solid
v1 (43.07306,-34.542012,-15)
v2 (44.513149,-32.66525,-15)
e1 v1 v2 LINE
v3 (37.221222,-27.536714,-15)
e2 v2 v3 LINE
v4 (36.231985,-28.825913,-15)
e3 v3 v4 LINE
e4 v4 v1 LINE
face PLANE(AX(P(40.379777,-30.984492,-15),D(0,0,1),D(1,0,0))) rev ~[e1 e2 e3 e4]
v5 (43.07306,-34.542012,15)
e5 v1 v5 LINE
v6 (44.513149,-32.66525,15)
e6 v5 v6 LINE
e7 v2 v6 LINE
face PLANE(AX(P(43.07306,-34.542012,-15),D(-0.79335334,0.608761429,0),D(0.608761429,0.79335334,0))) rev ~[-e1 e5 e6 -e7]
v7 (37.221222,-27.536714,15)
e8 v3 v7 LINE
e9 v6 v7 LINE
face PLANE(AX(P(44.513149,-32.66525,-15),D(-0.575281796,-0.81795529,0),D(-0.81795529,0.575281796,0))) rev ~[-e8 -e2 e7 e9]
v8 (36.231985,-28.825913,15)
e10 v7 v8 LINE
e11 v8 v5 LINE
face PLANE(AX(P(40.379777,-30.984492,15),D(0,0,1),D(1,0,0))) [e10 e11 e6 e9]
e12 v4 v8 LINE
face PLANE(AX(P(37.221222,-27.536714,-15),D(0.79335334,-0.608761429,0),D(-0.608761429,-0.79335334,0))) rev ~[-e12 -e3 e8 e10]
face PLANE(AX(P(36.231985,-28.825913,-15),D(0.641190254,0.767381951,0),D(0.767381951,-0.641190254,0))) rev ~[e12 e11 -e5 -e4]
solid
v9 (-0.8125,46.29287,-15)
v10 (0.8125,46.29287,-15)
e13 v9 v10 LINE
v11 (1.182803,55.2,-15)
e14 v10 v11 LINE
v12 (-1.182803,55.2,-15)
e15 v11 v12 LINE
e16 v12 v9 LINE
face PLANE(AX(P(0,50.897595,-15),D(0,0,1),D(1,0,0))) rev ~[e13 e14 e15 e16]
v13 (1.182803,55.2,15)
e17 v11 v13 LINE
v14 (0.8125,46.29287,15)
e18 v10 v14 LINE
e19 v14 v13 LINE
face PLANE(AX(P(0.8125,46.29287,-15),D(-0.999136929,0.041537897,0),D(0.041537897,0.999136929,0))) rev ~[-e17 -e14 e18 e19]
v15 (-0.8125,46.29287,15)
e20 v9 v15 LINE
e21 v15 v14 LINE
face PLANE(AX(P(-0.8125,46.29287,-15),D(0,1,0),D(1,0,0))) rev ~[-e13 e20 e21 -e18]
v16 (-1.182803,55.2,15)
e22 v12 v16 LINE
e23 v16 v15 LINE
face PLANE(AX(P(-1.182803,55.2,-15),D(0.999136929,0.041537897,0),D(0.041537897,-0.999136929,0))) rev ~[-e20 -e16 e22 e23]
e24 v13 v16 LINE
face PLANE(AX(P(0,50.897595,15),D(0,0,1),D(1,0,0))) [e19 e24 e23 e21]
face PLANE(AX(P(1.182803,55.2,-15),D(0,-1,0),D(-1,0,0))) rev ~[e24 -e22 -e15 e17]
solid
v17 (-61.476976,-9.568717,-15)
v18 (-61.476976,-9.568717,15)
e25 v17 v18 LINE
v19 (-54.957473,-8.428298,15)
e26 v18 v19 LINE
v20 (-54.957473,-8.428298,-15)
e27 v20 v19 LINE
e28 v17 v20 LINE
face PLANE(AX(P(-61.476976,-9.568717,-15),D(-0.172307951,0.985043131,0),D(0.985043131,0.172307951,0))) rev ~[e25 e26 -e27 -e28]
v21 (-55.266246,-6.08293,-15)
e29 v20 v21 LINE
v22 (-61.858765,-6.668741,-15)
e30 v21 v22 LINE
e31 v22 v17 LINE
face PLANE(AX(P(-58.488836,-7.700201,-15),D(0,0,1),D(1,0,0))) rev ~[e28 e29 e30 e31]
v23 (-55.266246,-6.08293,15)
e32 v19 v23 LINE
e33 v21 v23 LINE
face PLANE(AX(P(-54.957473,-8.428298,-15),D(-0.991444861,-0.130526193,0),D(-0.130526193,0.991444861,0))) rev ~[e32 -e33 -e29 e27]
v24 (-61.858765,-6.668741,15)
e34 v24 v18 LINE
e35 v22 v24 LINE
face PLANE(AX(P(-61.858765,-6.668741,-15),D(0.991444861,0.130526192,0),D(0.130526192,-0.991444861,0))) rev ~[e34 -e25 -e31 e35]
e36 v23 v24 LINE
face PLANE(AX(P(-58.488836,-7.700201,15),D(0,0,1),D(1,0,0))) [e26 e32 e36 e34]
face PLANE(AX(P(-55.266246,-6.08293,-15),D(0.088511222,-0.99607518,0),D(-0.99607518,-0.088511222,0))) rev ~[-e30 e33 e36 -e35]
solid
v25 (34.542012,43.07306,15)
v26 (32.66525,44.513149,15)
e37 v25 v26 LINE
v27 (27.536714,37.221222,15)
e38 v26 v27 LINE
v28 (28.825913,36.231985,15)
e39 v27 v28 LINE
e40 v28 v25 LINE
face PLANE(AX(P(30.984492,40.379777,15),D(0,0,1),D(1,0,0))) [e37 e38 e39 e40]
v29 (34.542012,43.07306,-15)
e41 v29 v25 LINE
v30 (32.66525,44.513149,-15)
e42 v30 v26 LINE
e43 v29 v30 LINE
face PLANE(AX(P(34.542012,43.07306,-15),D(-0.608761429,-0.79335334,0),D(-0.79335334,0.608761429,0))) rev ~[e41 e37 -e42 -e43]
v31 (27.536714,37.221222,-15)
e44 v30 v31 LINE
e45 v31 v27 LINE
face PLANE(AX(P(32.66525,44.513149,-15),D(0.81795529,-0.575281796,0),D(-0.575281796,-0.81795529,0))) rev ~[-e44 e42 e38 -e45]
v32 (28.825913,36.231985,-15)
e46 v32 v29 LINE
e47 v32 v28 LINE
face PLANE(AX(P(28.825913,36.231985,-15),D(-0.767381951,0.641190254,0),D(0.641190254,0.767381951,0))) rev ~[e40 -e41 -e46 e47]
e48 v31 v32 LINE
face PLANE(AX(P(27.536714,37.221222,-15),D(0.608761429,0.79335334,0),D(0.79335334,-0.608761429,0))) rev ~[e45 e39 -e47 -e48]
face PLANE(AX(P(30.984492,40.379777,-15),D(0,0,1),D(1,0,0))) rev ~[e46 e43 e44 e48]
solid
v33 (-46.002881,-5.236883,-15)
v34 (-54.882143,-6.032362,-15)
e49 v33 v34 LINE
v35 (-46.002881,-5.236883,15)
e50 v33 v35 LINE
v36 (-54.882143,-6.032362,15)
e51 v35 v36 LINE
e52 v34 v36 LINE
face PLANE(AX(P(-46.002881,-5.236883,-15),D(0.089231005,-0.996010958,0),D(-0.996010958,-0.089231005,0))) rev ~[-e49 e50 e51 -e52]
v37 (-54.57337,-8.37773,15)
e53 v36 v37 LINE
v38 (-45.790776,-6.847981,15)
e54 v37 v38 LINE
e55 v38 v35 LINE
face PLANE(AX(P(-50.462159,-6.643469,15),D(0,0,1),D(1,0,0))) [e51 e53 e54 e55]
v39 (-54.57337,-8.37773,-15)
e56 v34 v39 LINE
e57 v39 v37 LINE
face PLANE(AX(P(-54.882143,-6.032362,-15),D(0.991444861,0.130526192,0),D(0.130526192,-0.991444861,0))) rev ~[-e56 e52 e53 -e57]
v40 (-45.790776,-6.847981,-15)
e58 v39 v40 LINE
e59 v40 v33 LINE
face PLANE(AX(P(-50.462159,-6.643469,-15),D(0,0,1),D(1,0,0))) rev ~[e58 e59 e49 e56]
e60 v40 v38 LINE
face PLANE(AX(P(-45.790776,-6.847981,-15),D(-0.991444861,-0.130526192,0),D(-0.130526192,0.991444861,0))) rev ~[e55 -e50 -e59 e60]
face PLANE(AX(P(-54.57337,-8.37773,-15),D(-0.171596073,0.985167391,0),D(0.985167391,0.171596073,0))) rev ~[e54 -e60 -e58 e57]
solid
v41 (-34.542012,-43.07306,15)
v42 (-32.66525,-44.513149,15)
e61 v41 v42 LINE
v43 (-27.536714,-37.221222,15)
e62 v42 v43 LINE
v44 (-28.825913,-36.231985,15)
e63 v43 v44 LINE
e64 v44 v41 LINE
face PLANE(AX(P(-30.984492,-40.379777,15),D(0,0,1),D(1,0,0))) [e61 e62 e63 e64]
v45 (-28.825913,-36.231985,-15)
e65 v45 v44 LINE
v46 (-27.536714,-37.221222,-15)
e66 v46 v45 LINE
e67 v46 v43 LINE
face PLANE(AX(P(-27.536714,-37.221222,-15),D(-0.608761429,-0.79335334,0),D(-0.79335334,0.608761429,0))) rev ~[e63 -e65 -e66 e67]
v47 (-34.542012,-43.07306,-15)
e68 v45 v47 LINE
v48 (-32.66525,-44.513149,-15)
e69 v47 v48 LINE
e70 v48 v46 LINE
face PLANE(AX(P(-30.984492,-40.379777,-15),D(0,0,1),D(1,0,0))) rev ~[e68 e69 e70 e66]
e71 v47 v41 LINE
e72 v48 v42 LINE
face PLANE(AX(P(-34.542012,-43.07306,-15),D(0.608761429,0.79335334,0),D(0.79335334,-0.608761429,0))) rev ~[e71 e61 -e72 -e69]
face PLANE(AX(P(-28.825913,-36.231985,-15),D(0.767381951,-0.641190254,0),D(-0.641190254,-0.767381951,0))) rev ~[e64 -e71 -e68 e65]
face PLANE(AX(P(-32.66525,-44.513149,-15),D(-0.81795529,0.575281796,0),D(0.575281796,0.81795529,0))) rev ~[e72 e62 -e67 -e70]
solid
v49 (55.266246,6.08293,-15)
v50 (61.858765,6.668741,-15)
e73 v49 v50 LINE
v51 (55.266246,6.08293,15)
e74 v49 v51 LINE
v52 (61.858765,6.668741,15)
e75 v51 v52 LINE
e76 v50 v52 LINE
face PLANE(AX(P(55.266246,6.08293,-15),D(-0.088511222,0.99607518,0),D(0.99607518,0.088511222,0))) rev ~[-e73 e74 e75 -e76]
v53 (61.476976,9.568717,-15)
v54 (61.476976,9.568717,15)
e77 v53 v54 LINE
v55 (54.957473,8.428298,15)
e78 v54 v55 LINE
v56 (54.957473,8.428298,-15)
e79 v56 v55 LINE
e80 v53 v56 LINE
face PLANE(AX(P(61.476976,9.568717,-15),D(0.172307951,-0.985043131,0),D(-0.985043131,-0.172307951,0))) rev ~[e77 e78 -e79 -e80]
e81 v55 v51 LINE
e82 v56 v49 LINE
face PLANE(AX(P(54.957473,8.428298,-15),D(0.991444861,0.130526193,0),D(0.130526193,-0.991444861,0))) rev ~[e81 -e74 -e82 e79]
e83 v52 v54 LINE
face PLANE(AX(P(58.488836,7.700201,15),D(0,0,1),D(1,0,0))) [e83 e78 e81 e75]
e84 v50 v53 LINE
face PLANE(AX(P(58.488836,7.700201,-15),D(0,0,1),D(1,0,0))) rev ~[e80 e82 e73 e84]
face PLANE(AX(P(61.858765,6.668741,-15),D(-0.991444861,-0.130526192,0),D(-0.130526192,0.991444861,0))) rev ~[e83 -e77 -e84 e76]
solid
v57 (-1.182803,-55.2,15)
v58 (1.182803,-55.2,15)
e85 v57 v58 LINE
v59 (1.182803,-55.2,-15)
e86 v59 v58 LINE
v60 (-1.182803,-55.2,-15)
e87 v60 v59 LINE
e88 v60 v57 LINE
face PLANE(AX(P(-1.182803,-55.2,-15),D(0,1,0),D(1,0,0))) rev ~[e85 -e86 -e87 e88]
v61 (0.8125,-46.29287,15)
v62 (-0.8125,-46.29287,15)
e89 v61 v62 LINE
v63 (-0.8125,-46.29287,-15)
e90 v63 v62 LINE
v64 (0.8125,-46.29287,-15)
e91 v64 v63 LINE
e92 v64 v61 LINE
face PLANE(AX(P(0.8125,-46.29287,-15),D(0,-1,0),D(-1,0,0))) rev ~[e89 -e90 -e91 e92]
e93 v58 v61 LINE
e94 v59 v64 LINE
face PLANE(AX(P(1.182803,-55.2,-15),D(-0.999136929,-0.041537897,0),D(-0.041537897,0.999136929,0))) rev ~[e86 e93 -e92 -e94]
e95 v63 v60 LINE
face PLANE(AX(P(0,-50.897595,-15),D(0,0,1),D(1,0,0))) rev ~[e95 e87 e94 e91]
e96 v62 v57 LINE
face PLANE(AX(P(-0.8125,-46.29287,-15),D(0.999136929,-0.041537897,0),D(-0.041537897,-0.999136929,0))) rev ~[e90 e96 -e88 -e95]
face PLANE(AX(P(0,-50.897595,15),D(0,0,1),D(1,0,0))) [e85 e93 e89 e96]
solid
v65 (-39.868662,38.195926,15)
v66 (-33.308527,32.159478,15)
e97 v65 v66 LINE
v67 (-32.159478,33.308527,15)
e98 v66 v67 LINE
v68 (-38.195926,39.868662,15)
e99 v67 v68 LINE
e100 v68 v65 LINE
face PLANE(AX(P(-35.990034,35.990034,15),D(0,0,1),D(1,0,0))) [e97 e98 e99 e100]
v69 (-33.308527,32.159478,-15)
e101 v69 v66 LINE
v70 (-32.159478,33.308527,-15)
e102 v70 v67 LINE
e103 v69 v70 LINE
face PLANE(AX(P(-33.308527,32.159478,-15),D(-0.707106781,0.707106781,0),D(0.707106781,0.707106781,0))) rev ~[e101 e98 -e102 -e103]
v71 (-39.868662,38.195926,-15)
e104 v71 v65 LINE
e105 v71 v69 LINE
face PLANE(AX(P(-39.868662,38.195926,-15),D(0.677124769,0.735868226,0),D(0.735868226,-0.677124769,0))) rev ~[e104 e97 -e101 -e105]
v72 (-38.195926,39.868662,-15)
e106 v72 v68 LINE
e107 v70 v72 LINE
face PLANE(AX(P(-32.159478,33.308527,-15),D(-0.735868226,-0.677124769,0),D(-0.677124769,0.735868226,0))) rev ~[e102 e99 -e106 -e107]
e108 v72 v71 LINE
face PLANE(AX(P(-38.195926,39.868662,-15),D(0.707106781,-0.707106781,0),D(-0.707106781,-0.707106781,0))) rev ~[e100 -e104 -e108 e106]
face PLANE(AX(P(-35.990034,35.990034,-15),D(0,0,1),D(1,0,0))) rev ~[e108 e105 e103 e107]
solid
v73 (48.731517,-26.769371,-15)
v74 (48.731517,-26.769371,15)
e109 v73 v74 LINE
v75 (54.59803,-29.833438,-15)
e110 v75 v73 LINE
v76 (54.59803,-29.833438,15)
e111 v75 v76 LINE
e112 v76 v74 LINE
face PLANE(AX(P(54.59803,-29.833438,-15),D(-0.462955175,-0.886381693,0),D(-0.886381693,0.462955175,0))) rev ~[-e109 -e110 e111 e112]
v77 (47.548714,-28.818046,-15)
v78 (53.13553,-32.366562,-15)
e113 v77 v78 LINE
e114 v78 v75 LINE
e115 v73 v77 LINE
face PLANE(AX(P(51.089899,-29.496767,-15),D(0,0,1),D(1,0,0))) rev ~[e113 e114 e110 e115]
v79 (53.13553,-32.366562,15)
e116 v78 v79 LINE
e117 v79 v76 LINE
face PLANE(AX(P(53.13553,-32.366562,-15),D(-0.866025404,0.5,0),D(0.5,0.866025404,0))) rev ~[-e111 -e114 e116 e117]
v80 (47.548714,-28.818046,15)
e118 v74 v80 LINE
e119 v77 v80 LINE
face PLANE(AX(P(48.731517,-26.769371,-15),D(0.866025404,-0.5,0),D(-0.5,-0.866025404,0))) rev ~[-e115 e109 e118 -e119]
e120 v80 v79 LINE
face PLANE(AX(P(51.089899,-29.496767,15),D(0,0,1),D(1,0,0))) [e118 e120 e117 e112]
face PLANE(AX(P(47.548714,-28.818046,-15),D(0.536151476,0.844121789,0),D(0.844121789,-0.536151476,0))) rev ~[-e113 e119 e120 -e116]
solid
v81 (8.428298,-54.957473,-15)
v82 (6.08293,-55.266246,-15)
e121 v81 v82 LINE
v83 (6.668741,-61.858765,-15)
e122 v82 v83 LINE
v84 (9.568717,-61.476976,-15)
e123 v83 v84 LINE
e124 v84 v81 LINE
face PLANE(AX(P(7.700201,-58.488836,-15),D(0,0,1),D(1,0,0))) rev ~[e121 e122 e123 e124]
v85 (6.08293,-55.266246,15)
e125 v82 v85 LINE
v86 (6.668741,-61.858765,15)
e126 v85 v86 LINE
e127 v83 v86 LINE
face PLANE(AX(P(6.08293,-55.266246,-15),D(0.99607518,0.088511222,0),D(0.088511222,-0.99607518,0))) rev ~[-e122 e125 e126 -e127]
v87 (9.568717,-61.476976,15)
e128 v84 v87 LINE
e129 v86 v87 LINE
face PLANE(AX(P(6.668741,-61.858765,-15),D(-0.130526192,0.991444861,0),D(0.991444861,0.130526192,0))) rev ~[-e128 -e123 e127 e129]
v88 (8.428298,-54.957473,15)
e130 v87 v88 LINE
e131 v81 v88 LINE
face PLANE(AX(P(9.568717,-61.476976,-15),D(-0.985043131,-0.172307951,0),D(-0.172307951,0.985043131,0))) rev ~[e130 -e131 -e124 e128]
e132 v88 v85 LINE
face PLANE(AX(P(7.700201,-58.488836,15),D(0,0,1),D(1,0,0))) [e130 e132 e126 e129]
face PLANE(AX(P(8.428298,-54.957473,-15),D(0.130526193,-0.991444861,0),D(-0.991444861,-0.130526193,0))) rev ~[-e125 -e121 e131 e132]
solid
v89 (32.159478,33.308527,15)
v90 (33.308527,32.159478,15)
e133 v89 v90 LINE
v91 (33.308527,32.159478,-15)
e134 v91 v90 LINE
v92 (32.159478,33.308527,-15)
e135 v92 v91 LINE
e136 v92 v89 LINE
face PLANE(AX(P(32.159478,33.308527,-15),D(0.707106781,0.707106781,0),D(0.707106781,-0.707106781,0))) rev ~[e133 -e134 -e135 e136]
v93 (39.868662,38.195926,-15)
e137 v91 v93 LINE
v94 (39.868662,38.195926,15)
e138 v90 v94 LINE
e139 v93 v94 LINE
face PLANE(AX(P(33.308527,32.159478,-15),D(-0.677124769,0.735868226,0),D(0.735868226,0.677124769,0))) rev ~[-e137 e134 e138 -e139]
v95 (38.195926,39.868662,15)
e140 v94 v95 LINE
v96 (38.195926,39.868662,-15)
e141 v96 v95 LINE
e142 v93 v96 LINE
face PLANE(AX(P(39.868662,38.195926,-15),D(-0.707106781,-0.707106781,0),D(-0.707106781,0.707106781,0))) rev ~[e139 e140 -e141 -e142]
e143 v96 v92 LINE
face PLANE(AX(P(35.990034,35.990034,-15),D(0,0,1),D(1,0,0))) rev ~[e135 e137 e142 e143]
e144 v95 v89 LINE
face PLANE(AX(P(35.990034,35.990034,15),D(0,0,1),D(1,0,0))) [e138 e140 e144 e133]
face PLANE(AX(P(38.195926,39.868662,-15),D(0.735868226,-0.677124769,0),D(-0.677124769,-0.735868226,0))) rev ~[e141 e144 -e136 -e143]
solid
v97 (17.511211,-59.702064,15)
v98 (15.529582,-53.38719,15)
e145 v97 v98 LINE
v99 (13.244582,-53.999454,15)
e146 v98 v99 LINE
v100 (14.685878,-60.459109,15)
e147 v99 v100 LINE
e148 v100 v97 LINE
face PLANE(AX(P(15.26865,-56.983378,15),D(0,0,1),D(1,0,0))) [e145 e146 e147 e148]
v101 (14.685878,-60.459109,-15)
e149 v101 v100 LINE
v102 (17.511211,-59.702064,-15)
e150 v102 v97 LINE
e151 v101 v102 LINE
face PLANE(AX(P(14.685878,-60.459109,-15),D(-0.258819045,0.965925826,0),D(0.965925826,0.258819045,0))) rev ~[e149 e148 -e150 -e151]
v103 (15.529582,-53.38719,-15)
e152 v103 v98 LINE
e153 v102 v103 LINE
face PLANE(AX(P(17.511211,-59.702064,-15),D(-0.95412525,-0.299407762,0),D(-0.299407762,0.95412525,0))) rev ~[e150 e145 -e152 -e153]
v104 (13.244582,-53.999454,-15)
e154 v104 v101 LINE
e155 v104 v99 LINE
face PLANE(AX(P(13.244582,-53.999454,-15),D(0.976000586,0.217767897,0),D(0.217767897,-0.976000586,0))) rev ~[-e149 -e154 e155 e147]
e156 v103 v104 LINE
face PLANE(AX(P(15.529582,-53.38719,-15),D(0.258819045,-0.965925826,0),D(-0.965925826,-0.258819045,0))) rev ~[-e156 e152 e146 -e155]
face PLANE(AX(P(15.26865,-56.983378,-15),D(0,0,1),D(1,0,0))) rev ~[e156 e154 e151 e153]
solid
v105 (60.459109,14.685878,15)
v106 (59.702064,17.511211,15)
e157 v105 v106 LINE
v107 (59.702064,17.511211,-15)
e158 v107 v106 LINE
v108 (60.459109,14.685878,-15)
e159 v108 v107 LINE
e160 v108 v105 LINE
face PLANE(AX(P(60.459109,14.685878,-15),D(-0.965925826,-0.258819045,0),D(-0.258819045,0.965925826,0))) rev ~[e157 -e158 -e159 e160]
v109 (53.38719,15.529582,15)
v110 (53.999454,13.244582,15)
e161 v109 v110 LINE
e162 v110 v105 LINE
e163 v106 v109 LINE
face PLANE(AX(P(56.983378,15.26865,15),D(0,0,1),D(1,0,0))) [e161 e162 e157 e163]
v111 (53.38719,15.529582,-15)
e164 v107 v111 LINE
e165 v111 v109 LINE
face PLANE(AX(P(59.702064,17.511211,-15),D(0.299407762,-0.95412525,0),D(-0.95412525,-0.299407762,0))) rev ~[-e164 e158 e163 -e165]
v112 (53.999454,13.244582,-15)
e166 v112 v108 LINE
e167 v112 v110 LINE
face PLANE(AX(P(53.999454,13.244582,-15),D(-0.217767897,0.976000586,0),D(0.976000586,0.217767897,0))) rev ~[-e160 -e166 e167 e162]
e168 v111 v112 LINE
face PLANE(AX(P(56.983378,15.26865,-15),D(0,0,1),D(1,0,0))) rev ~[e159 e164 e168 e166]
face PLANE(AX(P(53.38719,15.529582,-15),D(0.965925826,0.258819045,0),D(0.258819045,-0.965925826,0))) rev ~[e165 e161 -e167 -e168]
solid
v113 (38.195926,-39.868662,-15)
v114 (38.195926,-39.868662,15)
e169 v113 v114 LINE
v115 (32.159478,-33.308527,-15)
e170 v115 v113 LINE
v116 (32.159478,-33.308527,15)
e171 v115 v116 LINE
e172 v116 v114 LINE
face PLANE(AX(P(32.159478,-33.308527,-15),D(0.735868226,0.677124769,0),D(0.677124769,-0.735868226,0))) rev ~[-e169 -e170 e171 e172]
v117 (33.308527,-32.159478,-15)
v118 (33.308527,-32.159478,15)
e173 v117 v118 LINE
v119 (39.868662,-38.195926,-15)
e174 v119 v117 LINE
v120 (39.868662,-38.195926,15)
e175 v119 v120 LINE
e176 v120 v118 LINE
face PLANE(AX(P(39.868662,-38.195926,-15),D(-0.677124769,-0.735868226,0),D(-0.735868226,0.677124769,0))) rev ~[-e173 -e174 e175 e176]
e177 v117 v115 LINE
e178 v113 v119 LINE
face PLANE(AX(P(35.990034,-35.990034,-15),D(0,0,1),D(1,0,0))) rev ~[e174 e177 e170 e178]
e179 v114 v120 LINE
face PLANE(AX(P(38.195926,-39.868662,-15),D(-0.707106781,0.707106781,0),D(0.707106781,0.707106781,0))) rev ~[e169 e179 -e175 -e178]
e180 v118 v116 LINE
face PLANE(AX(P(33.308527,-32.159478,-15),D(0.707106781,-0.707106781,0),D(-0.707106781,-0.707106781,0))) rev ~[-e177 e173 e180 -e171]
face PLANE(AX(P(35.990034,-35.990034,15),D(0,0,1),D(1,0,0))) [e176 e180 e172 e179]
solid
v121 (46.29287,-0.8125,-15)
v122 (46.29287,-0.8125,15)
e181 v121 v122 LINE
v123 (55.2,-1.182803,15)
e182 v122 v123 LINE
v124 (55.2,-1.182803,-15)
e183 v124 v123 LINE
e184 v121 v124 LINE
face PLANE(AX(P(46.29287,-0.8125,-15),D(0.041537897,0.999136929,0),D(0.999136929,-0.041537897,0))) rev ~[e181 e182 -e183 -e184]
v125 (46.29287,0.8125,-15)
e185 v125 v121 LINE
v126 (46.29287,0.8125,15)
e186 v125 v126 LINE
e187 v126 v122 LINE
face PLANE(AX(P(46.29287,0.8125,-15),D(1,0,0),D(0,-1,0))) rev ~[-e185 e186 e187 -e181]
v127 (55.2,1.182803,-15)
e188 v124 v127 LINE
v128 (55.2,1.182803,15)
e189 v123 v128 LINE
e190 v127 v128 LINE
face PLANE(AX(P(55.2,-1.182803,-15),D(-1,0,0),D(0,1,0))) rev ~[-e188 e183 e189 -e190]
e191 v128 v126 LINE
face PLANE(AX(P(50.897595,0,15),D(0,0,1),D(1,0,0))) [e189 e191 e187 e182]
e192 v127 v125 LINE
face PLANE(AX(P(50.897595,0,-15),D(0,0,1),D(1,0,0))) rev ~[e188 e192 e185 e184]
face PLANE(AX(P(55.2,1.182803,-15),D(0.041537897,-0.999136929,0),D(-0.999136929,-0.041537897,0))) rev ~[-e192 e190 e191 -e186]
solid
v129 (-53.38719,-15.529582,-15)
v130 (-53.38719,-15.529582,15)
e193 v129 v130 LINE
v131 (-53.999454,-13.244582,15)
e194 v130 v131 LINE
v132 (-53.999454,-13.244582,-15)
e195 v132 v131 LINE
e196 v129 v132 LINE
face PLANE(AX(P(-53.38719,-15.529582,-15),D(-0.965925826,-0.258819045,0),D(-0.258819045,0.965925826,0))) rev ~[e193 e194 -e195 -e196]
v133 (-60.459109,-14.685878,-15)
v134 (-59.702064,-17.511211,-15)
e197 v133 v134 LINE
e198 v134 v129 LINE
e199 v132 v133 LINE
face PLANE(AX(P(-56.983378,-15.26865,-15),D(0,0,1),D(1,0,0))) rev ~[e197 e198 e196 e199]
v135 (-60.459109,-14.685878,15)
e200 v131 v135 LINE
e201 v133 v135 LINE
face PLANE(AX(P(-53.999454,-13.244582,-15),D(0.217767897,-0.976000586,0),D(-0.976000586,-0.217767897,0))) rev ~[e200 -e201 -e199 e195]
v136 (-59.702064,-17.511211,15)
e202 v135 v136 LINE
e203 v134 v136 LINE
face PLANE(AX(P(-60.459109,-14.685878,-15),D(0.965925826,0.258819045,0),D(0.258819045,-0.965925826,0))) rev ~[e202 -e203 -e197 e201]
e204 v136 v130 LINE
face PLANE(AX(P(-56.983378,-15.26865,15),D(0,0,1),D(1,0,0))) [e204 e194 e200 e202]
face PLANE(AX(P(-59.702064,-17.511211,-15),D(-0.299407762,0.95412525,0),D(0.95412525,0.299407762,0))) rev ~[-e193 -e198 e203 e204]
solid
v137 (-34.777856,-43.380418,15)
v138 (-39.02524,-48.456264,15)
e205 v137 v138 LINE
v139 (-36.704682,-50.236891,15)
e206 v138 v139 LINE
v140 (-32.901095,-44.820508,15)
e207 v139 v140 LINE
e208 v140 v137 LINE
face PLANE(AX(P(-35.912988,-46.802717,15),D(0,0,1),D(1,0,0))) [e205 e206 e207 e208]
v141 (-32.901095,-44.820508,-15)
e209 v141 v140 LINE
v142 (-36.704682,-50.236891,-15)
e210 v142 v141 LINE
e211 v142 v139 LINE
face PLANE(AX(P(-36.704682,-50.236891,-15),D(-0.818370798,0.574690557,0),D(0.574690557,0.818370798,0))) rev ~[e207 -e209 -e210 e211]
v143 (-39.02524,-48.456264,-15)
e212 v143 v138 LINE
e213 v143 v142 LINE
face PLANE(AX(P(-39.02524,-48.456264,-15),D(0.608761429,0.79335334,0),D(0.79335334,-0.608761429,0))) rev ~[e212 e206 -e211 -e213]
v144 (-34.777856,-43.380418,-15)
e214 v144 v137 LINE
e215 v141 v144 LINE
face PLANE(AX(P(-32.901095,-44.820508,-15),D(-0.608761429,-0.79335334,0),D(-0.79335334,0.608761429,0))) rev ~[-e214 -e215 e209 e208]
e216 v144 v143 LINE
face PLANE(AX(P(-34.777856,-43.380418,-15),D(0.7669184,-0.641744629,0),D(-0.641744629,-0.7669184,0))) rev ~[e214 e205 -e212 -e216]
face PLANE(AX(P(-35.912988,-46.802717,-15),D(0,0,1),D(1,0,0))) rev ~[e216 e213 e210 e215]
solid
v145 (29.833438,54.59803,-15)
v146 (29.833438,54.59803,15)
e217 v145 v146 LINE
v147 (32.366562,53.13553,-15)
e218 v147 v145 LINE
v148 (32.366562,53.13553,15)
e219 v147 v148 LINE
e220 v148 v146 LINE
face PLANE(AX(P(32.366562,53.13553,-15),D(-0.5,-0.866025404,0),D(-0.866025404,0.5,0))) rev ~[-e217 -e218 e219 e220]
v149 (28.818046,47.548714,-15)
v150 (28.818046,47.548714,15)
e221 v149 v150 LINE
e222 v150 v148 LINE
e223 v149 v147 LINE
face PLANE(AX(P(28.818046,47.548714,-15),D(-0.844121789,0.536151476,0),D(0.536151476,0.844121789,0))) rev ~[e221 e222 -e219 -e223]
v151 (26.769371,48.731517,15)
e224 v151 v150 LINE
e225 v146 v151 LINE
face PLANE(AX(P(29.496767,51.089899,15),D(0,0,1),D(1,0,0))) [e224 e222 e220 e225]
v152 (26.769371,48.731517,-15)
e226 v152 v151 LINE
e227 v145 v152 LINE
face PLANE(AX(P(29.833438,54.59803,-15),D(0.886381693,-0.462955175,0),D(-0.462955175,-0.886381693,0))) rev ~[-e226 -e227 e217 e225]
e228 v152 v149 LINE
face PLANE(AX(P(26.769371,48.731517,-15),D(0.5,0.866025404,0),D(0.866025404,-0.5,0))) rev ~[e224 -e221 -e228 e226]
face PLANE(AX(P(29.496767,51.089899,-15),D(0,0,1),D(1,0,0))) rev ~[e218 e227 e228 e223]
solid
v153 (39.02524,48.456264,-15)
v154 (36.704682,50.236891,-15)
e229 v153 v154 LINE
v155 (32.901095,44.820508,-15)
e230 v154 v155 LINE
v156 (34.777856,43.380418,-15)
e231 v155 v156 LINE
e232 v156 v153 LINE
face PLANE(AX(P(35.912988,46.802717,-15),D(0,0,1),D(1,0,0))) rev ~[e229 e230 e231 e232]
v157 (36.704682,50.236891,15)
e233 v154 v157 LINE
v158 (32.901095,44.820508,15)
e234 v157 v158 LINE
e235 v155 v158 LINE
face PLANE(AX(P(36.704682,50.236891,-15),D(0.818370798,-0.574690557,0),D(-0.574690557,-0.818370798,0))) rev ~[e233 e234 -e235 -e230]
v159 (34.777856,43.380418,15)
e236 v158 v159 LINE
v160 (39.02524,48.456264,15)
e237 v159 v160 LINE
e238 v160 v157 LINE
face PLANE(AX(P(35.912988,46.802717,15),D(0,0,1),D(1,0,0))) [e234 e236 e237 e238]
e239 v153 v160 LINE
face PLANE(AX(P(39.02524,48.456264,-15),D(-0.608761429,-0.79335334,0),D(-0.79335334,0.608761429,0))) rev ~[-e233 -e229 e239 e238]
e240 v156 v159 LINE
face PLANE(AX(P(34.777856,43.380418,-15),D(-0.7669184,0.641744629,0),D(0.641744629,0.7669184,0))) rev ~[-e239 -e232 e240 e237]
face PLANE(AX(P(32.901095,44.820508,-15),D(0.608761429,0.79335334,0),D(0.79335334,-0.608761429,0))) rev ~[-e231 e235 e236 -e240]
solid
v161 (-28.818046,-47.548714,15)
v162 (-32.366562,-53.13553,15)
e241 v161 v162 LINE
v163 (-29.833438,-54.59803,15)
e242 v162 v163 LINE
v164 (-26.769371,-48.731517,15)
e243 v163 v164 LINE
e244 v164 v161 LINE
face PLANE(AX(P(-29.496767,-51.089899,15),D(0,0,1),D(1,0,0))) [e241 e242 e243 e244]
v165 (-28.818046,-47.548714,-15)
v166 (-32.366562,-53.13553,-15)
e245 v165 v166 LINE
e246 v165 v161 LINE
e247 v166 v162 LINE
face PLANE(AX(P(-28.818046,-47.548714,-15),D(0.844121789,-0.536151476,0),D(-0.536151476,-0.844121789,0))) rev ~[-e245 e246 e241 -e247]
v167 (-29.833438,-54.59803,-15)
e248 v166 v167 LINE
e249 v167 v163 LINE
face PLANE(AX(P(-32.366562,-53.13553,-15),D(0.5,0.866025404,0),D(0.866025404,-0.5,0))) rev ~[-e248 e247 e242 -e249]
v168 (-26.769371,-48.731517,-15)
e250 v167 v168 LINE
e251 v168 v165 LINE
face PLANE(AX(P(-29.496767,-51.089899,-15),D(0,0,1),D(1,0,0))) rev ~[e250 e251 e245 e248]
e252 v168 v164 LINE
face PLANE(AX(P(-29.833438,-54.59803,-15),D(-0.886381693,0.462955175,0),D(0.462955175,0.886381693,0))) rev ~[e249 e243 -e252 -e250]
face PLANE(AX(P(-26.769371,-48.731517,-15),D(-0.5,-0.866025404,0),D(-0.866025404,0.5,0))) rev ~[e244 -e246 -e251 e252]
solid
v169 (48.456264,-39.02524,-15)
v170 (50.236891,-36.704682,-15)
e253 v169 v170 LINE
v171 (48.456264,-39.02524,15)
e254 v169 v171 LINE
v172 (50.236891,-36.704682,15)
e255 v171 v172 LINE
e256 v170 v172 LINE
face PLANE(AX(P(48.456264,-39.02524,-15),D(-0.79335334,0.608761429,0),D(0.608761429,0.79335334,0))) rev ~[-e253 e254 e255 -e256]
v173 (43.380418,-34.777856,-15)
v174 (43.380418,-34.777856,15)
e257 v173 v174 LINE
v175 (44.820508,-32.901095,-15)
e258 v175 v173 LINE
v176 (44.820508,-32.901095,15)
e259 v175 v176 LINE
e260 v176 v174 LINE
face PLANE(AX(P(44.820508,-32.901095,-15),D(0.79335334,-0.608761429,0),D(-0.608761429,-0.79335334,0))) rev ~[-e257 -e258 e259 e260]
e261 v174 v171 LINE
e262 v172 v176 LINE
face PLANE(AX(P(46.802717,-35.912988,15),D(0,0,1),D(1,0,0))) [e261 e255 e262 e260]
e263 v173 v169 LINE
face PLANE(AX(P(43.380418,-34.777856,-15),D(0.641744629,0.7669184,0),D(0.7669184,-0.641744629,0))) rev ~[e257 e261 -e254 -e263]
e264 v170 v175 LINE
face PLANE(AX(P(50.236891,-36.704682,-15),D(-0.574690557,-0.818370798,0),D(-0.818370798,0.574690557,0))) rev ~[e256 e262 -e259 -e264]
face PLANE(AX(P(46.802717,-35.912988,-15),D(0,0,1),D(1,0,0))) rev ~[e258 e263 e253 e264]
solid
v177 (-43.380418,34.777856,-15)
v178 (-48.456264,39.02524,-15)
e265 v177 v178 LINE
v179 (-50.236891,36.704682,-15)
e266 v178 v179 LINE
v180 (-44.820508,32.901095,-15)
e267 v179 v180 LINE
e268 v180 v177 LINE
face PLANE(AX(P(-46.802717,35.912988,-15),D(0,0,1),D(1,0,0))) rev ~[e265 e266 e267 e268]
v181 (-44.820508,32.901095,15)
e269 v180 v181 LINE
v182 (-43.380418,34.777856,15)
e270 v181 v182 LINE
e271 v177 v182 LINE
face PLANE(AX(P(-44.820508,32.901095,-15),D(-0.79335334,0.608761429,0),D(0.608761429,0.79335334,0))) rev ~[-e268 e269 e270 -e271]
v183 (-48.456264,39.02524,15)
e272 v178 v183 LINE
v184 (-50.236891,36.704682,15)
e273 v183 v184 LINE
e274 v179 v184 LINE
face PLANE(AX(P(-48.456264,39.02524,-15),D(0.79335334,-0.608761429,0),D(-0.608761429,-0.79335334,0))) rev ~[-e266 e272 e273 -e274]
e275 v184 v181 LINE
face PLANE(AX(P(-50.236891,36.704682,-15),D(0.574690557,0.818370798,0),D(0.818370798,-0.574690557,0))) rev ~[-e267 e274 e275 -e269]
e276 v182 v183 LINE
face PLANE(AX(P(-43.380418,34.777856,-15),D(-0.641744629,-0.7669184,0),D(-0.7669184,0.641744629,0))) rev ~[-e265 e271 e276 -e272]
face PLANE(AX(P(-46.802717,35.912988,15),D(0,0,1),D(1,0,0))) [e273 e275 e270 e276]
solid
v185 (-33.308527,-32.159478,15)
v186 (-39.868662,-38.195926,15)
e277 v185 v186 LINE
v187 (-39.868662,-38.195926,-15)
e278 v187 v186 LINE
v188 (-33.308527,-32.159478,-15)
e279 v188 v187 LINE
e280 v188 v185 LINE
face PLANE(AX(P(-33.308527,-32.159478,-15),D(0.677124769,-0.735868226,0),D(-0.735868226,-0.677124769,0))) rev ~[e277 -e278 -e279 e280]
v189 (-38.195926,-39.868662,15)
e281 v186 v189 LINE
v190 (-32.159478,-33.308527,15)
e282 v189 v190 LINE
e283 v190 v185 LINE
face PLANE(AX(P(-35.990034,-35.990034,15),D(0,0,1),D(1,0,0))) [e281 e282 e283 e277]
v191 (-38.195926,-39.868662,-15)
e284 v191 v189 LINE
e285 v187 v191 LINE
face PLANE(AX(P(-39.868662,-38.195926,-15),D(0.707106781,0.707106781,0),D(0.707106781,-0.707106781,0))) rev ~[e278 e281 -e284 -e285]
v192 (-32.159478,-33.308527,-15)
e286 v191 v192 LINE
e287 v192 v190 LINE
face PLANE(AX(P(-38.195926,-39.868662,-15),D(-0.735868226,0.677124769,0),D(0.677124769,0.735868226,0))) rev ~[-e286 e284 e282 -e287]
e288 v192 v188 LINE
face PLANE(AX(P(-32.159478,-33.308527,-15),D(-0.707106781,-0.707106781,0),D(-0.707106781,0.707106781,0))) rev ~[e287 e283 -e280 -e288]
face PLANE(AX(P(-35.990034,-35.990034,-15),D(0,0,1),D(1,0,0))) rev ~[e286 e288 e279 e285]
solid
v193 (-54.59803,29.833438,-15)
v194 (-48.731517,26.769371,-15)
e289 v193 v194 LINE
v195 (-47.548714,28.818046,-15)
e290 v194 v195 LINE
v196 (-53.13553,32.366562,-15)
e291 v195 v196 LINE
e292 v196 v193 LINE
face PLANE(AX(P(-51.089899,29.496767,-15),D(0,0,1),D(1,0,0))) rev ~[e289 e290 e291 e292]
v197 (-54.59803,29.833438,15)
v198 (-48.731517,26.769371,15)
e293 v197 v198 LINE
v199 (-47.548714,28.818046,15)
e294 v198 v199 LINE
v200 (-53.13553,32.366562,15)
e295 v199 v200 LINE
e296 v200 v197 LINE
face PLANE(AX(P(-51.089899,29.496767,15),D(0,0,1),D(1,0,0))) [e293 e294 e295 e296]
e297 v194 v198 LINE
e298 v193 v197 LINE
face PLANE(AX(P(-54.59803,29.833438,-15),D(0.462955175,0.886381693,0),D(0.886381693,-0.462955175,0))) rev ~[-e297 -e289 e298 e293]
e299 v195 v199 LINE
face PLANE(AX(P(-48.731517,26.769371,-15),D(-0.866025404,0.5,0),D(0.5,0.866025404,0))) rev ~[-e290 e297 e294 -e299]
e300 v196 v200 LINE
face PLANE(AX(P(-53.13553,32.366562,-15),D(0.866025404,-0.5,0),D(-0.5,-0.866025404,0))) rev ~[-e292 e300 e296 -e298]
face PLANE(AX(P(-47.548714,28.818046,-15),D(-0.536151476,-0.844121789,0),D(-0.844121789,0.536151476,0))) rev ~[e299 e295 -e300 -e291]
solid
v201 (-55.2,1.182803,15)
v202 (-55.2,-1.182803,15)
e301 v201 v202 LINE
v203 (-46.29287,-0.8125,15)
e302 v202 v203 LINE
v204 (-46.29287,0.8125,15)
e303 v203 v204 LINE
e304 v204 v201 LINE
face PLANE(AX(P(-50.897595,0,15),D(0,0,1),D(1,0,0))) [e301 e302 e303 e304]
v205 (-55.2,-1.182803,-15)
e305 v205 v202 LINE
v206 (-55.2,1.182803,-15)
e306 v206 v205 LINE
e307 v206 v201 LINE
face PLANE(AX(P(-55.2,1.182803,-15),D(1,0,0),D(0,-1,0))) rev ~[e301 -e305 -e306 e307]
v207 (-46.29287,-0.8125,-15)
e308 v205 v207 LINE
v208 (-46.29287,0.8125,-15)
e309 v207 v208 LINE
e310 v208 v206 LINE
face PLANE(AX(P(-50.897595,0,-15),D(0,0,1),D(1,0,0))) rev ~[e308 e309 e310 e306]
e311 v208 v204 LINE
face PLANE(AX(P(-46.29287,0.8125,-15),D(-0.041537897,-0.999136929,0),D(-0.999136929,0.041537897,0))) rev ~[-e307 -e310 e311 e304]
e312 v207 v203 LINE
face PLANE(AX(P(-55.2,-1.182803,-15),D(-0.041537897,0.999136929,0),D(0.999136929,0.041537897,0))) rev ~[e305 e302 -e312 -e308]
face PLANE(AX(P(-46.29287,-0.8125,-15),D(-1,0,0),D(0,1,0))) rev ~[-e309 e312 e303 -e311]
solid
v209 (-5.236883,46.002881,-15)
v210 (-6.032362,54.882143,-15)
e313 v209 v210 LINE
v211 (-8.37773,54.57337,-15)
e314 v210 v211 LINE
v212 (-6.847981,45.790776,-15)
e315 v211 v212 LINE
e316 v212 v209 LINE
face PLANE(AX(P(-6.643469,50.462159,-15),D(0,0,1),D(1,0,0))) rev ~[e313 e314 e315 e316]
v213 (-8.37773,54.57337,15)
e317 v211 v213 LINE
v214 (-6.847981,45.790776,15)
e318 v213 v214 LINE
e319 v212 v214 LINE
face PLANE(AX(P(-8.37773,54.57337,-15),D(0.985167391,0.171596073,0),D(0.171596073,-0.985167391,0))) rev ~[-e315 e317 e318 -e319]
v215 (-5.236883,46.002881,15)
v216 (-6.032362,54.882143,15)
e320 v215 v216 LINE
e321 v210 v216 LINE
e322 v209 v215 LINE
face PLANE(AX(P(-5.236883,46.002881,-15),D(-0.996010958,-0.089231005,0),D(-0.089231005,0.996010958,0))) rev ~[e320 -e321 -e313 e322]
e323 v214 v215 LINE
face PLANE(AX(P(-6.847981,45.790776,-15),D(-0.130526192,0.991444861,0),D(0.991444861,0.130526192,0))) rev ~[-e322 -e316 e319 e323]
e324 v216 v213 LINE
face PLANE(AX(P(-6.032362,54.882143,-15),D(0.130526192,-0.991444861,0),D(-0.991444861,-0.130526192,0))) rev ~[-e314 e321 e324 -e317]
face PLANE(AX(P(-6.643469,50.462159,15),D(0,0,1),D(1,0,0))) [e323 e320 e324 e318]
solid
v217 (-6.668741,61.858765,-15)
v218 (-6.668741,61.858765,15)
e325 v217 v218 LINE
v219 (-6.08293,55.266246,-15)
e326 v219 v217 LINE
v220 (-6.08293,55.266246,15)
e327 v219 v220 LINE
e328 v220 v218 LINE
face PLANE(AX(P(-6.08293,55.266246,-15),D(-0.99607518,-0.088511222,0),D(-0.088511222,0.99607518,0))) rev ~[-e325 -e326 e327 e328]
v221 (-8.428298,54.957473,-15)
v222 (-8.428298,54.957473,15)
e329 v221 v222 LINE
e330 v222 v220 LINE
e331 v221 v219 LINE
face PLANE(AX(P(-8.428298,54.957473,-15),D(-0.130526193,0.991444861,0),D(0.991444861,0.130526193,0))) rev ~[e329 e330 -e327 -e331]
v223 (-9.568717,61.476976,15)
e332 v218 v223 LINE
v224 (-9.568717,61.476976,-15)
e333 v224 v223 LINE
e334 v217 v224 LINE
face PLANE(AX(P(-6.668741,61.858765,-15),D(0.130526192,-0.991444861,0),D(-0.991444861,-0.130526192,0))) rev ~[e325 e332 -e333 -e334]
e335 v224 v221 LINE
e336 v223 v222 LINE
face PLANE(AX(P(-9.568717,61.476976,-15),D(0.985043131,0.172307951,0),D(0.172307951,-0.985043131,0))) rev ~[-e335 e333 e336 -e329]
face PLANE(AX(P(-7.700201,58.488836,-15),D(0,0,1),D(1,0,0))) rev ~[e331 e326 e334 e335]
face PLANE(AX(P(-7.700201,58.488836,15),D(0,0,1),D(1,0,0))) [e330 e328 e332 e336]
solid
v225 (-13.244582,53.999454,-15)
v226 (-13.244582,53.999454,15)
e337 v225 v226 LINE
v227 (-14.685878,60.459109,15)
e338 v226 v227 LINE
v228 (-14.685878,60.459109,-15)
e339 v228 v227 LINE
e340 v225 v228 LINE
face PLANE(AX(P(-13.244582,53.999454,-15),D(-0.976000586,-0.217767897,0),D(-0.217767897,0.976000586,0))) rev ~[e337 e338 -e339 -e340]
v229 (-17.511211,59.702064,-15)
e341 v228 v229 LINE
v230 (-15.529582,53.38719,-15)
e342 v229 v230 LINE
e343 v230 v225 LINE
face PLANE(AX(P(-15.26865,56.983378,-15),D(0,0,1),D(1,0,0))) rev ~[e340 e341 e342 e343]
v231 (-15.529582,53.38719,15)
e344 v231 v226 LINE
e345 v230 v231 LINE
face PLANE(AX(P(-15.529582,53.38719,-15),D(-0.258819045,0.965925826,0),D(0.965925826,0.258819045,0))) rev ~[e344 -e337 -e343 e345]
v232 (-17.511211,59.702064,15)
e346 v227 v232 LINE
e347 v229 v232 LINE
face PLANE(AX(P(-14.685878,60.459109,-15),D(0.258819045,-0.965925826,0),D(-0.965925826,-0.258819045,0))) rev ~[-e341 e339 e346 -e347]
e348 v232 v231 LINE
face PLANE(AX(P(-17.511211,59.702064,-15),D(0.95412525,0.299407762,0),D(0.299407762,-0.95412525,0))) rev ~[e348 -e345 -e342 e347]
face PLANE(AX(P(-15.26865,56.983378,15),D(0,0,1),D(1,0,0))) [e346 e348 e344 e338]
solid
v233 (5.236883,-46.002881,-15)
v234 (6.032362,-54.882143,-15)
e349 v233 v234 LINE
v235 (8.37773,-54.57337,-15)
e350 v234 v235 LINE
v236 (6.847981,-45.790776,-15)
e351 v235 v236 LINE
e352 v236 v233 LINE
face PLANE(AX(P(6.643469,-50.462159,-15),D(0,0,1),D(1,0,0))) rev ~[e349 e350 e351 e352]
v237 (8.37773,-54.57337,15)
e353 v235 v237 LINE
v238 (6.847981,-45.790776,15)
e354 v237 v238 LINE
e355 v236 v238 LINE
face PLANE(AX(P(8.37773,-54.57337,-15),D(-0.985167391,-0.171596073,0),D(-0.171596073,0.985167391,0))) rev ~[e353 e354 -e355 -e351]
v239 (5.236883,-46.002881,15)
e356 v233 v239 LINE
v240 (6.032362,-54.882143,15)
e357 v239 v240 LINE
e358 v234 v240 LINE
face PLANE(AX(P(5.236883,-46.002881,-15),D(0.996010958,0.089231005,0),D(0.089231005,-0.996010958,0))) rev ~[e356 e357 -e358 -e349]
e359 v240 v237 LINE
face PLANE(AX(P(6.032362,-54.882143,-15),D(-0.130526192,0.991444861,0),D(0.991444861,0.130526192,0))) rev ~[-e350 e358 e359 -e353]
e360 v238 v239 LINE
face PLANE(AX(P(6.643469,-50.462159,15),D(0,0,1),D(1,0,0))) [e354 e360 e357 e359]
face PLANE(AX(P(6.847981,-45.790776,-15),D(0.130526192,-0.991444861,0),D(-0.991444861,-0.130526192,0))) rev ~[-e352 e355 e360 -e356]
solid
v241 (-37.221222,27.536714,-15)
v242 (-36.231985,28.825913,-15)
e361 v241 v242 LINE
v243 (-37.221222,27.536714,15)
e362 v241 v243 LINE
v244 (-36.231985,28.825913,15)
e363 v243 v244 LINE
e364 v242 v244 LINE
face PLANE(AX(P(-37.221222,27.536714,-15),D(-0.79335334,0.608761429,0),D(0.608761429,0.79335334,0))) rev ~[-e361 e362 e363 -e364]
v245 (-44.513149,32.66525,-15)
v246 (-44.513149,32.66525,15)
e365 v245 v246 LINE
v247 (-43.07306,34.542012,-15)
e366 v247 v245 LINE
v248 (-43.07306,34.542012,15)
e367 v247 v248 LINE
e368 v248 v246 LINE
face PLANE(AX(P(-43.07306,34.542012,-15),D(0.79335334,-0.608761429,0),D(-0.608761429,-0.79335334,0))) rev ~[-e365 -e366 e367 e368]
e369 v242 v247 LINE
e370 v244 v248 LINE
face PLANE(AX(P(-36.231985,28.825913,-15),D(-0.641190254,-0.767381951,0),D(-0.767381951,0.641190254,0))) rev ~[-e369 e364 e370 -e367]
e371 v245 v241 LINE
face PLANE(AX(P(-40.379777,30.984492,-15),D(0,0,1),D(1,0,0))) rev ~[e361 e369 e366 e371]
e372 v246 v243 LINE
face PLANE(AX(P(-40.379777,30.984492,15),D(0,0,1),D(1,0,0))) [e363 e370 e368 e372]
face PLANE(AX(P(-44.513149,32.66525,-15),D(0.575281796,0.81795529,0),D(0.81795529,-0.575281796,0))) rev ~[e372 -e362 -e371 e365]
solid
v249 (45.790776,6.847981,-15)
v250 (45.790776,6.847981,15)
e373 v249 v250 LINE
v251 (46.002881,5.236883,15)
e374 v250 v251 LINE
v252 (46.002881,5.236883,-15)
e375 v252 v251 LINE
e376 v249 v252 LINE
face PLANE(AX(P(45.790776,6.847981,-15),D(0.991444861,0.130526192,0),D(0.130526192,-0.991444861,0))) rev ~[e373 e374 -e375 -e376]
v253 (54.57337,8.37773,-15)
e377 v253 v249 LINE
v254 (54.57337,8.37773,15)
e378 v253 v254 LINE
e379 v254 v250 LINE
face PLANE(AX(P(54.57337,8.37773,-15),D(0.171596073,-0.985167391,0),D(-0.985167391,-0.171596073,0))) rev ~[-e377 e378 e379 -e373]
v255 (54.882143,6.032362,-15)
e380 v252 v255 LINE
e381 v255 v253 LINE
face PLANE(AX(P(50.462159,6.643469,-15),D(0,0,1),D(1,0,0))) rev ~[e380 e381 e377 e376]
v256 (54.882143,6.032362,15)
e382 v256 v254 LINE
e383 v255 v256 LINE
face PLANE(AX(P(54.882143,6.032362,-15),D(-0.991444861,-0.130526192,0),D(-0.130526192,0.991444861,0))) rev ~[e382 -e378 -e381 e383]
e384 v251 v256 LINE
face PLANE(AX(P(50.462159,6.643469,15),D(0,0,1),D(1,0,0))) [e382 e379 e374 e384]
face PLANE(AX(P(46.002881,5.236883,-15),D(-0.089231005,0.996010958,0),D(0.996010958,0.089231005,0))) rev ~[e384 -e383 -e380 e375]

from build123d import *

# Parameters (mm, degrees)
SLOT_COPPER_ENVELOPES_START    = -15
SLOT_COPPER_ENVELOPES_DEPTH    = 30
SLOT_COPPER_ENVELOPES_2_DEPTH  = 30
SLOT_COPPER_ENVELOPES_3_DEPTH  = 30
SLOT_COPPER_ENVELOPES_4_DEPTH  = 30
SLOT_COPPER_ENVELOPES_5_DEPTH  = 30
SLOT_COPPER_ENVELOPES_6_DEPTH  = 30
SLOT_COPPER_ENVELOPES_7_DEPTH  = 30
SLOT_COPPER_ENVELOPES_8_DEPTH  = 30
SLOT_COPPER_ENVELOPES_9_DEPTH  = 30
SLOT_COPPER_ENVELOPES_10_DEPTH = 30
SLOT_COPPER_ENVELOPES_11_DEPTH = 30
SLOT_COPPER_ENVELOPES_12_DEPTH = 30
SLOT_COPPER_ENVELOPES_13_DEPTH = 30
SLOT_COPPER_ENVELOPES_14_DEPTH = 30
SLOT_COPPER_ENVELOPES_15_DEPTH = 30
SLOT_COPPER_ENVELOPES_16_DEPTH = 30
SLOT_COPPER_ENVELOPES_17_DEPTH = 30
SLOT_COPPER_ENVELOPES_18_DEPTH = 30
SLOT_COPPER_ENVELOPES_19_DEPTH = 30
SLOT_COPPER_ENVELOPES_20_DEPTH = 30
SLOT_COPPER_ENVELOPES_21_DEPTH = 30
SLOT_COPPER_ENVELOPES_22_DEPTH = 30
SLOT_COPPER_ENVELOPES_23_DEPTH = 30
SLOT_COPPER_ENVELOPES_24_DEPTH = 30
SLOT_COPPER_ENVELOPES_25_DEPTH = 30
SLOT_COPPER_ENVELOPES_26_DEPTH = 30
SLOT_COPPER_ENVELOPES_27_DEPTH = 30
SLOT_COPPER_ENVELOPES_28_DEPTH = 30
SLOT_COPPER_ENVELOPES_29_DEPTH = 30
SLOT_COPPER_ENVELOPES_30_DEPTH = 30
SLOT_COPPER_ENVELOPES_31_DEPTH = 30
SLOT_COPPER_ENVELOPES_32_DEPTH = 30


with BuildPart() as part:
    # Эскиз1 → Slot_copper_envelopes (new body)
    with BuildSketch(Plane.XY.offset(SLOT_COPPER_ENVELOPES_START)):
        Polygon((46.292870334, -0.8125), (55.2, -1.18280303), (55.2, 1.18280303), (46.292870334, 0.8125), align=None)
    extrude(amount=SLOT_COPPER_ENVELOPES_DEPTH)


with BuildPart() as body_2:
    # Эскиз1 → Slot_copper_envelopes 2 (new body)
    with BuildSketch(Plane.XY.offset(SLOT_COPPER_ENVELOPES_START)):
        Polygon((55.266246148, 6.082929947), (61.858764934, 6.668741046), (61.476975821, 9.568717266), (54.957472596, 8.428297919), align=None)
    extrude(amount=SLOT_COPPER_ENVELOPES_2_DEPTH)


with BuildPart() as body_3:
    # Эскиз1 → Slot_copper_envelopes 3 (new body)
    with BuildSketch(Plane.XY.offset(SLOT_COPPER_ENVELOPES_START)):
        Polygon((46.002880942, 5.236883142), (54.882143124, 6.032361824), (54.573369572, 8.377729797), (45.79077588, 6.847981041), align=None)
    extrude(amount=SLOT_COPPER_ENVELOPES_3_DEPTH)


with BuildPart() as body_4:
    # Эскиз1 → Slot_copper_envelopes 4 (new body)
    with BuildSketch(Plane.XY.offset(SLOT_COPPER_ENVELOPES_START)):
        Polygon((53.999454067, 13.244582306), (60.459109249, 14.685878084), (59.702063542, 17.511211126), (53.387190165, 15.529582294), align=None)
    extrude(amount=SLOT_COPPER_ENVELOPES_4_DEPTH)


with BuildPart() as body_5:
    # Эскиз1 → Slot_copper_envelopes 5 (new body)
    with BuildSketch(Plane.XY.offset(SLOT_COPPER_ENVELOPES_START)):
        Polygon((33.308526793, 32.159478274), (39.868662365, 38.195926278), (38.195926278, 39.868662365), (32.159478274, 33.308526793), align=None)
    extrude(amount=SLOT_COPPER_ENVELOPES_5_DEPTH)


with BuildPart() as body_6:
    # Эскиз1 → Slot_copper_envelopes 6 (new body)
    with BuildSketch(Plane.XY.offset(SLOT_COPPER_ENVELOPES_START)):
        Polygon((34.777856407, 43.380418437), (39.025240145, 48.456264176), (36.704681624, 50.236891356), (32.901094937, 44.820508162), align=None)
    extrude(amount=SLOT_COPPER_ENVELOPES_6_DEPTH)


with BuildPart() as body_7:
    # Эскиз1 → Slot_copper_envelopes 7 (new body)
    with BuildSketch(Plane.XY.offset(SLOT_COPPER_ENVELOPES_START)):
        Polygon((28.825913486, 36.23198465), (34.542011616, 43.073059521), (32.665250146, 44.513149247), (27.536714308, 37.221221972), align=None)
    extrude(amount=SLOT_COPPER_ENVELOPES_7_DEPTH)


with BuildPart() as body_8:
    # Эскиз1 → Slot_copper_envelopes 8 (new body)
    with BuildSketch(Plane.XY.offset(SLOT_COPPER_ENVELOPES_START)):
        Polygon((28.818046189, 47.548714114), (32.366562153, 53.135530115), (29.833437847, 54.598030115), (26.769371245, 48.731517144), align=None)
    extrude(amount=SLOT_COPPER_ENVELOPES_8_DEPTH)


with BuildPart() as body_9:
    # Эскиз1 → Slot_copper_envelopes 9 (new body)
    with BuildSketch(Plane.XY.offset(SLOT_COPPER_ENVELOPES_START)):
        Polygon((0.8125, 46.292870334), (1.18280303, 55.2), (-1.18280303, 55.2), (-0.8125, 46.292870334), align=None)
    extrude(amount=SLOT_COPPER_ENVELOPES_9_DEPTH)


with BuildPart() as body_10:
    # Эскиз1 → Slot_copper_envelopes 10 (new body)
    with BuildSketch(Plane.XY.offset(SLOT_COPPER_ENVELOPES_START)):
        Polygon((-6.082929947, 55.266246148), (-6.668741046, 61.858764934), (-9.568717266, 61.476975821), (-8.428297919, 54.957472596), align=None)
    extrude(amount=SLOT_COPPER_ENVELOPES_10_DEPTH)


with BuildPart() as body_11:
    # Эскиз1 → Slot_copper_envelopes 11 (new body)
    with BuildSketch(Plane.XY.offset(SLOT_COPPER_ENVELOPES_START)):
        Polygon((-5.236883142, 46.002880942), (-6.032361824, 54.882143124), (-8.377729797, 54.573369572), (-6.847981041, 45.79077588), align=None)
    extrude(amount=SLOT_COPPER_ENVELOPES_11_DEPTH)


with BuildPart() as body_12:
    # Эскиз1 → Slot_copper_envelopes 12 (new body)
    with BuildSketch(Plane.XY.offset(SLOT_COPPER_ENVELOPES_START)):
        Polygon((-13.244582306, 53.999454067), (-14.685878084, 60.459109249), (-17.511211126, 59.702063542), (-15.529582294, 53.387190165), align=None)
    extrude(amount=SLOT_COPPER_ENVELOPES_12_DEPTH)


with BuildPart() as body_13:
    # Эскиз1 → Slot_copper_envelopes 13 (new body)
    with BuildSketch(Plane.XY.offset(SLOT_COPPER_ENVELOPES_START)):
        Polygon((-32.159478274, 33.308526793), (-38.195926278, 39.868662365), (-39.868662365, 38.195926278), (-33.308526793, 32.159478274), align=None)
    extrude(amount=SLOT_COPPER_ENVELOPES_13_DEPTH)


with BuildPart() as body_14:
    # Эскиз1 → Slot_copper_envelopes 14 (new body)
    with BuildSketch(Plane.XY.offset(SLOT_COPPER_ENVELOPES_START)):
        Polygon((-43.380418437, 34.777856407), (-48.456264176, 39.025240145), (-50.236891356, 36.704681624), (-44.820508162, 32.901094937), align=None)
    extrude(amount=SLOT_COPPER_ENVELOPES_14_DEPTH)


with BuildPart() as body_15:
    # Эскиз1 → Slot_copper_envelopes 15 (new body)
    with BuildSketch(Plane.XY.offset(SLOT_COPPER_ENVELOPES_START)):
        Polygon((-36.23198465, 28.825913486), (-43.073059521, 34.542011616), (-44.513149247, 32.665250146), (-37.221221972, 27.536714308), align=None)
    extrude(amount=SLOT_COPPER_ENVELOPES_15_DEPTH)


with BuildPart() as body_16:
    # Эскиз1 → Slot_copper_envelopes 16 (new body)
    with BuildSketch(Plane.XY.offset(SLOT_COPPER_ENVELOPES_START)):
        Polygon((-47.548714114, 28.818046189), (-53.135530115, 32.366562153), (-54.598030115, 29.833437847), (-48.731517144, 26.769371245), align=None)
    extrude(amount=SLOT_COPPER_ENVELOPES_16_DEPTH)


with BuildPart() as body_17:
    # Эскиз1 → Slot_copper_envelopes 17 (new body)
    with BuildSketch(Plane.XY.offset(SLOT_COPPER_ENVELOPES_START)):
        Polygon((-46.292870334, 0.8125), (-55.2, 1.18280303), (-55.2, -1.18280303), (-46.292870334, -0.8125), align=None)
    extrude(amount=SLOT_COPPER_ENVELOPES_17_DEPTH)


with BuildPart() as body_18:
    # Эскиз1 → Slot_copper_envelopes 18 (new body)
    with BuildSketch(Plane.XY.offset(SLOT_COPPER_ENVELOPES_START)):
        Polygon((-55.266246148, -6.082929947), (-61.858764934, -6.668741046), (-61.476975821, -9.568717266), (-54.957472596, -8.428297919), align=None)
    extrude(amount=SLOT_COPPER_ENVELOPES_18_DEPTH)


with BuildPart() as body_19:
    # Эскиз1 → Slot_copper_envelopes 19 (new body)
    with BuildSketch(Plane.XY.offset(SLOT_COPPER_ENVELOPES_START)):
        Polygon((-46.002880942, -5.236883142), (-54.882143124, -6.032361824), (-54.573369572, -8.377729797), (-45.79077588, -6.847981041), align=None)
    extrude(amount=SLOT_COPPER_ENVELOPES_19_DEPTH)


with BuildPart() as body_20:
    # Эскиз1 → Slot_copper_envelopes 20 (new body)
    with BuildSketch(Plane.XY.offset(SLOT_COPPER_ENVELOPES_START)):
        Polygon((-53.999454067, -13.244582306), (-60.459109249, -14.685878084), (-59.702063542, -17.511211126), (-53.387190165, -15.529582294), align=None)
    extrude(amount=SLOT_COPPER_ENVELOPES_20_DEPTH)


with BuildPart() as body_21:
    # Эскиз1 → Slot_copper_envelopes 21 (new body)
    with BuildSketch(Plane.XY.offset(SLOT_COPPER_ENVELOPES_START)):
        Polygon((-33.308526793, -32.159478274), (-39.868662365, -38.195926278), (-38.195926278, -39.868662365), (-32.159478274, -33.308526793), align=None)
    extrude(amount=SLOT_COPPER_ENVELOPES_21_DEPTH)


with BuildPart() as body_22:
    # Эскиз1 → Slot_copper_envelopes 22 (new body)
    with BuildSketch(Plane.XY.offset(SLOT_COPPER_ENVELOPES_START)):
        Polygon((-34.777856407, -43.380418437), (-39.025240145, -48.456264176), (-36.704681624, -50.236891356), (-32.901094937, -44.820508162), align=None)
    extrude(amount=SLOT_COPPER_ENVELOPES_22_DEPTH)


with BuildPart() as body_23:
    # Эскиз1 → Slot_copper_envelopes 23 (new body)
    with BuildSketch(Plane.XY.offset(SLOT_COPPER_ENVELOPES_START)):
        Polygon((-28.825913486, -36.23198465), (-34.542011616, -43.073059521), (-32.665250146, -44.513149247), (-27.536714308, -37.221221972), align=None)
    extrude(amount=SLOT_COPPER_ENVELOPES_23_DEPTH)


with BuildPart() as body_24:
    # Эскиз1 → Slot_copper_envelopes 24 (new body)
    with BuildSketch(Plane.XY.offset(SLOT_COPPER_ENVELOPES_START)):
        Polygon((-28.818046189, -47.548714114), (-32.366562153, -53.135530115), (-29.833437847, -54.598030115), (-26.769371245, -48.731517144), align=None)
    extrude(amount=SLOT_COPPER_ENVELOPES_24_DEPTH)


with BuildPart() as body_25:
    # Эскиз1 → Slot_copper_envelopes 25 (new body)
    with BuildSketch(Plane.XY.offset(SLOT_COPPER_ENVELOPES_START)):
        Polygon((-0.8125, -46.292870334), (-1.18280303, -55.2), (1.18280303, -55.2), (0.8125, -46.292870334), align=None)
    extrude(amount=SLOT_COPPER_ENVELOPES_25_DEPTH)


with BuildPart() as body_26:
    # Эскиз1 → Slot_copper_envelopes 26 (new body)
    with BuildSketch(Plane.XY.offset(SLOT_COPPER_ENVELOPES_START)):
        Polygon((6.082929947, -55.266246148), (6.668741046, -61.858764934), (9.568717266, -61.476975821), (8.428297919, -54.957472596), align=None)
    extrude(amount=SLOT_COPPER_ENVELOPES_26_DEPTH)


with BuildPart() as body_27:
    # Эскиз1 → Slot_copper_envelopes 27 (new body)
    with BuildSketch(Plane.XY.offset(SLOT_COPPER_ENVELOPES_START)):
        Polygon((5.236883142, -46.002880942), (6.032361824, -54.882143124), (8.377729797, -54.573369572), (6.847981041, -45.79077588), align=None)
    extrude(amount=SLOT_COPPER_ENVELOPES_27_DEPTH)


with BuildPart() as body_28:
    # Эскиз1 → Slot_copper_envelopes 28 (new body)
    with BuildSketch(Plane.XY.offset(SLOT_COPPER_ENVELOPES_START)):
        Polygon((13.244582306, -53.999454067), (14.685878084, -60.459109249), (17.511211126, -59.702063542), (15.529582294, -53.387190165), align=None)
    extrude(amount=SLOT_COPPER_ENVELOPES_28_DEPTH)


with BuildPart() as body_29:
    # Эскиз1 → Slot_copper_envelopes 29 (new body)
    with BuildSketch(Plane.XY.offset(SLOT_COPPER_ENVELOPES_START)):
        Polygon((32.159478274, -33.308526793), (38.195926278, -39.868662365), (39.868662365, -38.195926278), (33.308526793, -32.159478274), align=None)
    extrude(amount=SLOT_COPPER_ENVELOPES_29_DEPTH)


with BuildPart() as body_30:
    # Эскиз1 → Slot_copper_envelopes 30 (new body)
    with BuildSketch(Plane.XY.offset(SLOT_COPPER_ENVELOPES_START)):
        Polygon((43.380418437, -34.777856407), (48.456264176, -39.025240145), (50.236891356, -36.704681624), (44.820508162, -32.901094937), align=None)
    extrude(amount=SLOT_COPPER_ENVELOPES_30_DEPTH)


with BuildPart() as body_31:
    # Эскиз1 → Slot_copper_envelopes 31 (new body)
    with BuildSketch(Plane.XY.offset(SLOT_COPPER_ENVELOPES_START)):
        Polygon((36.23198465, -28.825913486), (43.073059521, -34.542011616), (44.513149247, -32.665250146), (37.221221972, -27.536714308), align=None)
    extrude(amount=SLOT_COPPER_ENVELOPES_31_DEPTH)


with BuildPart() as body_32:
    # Эскиз1 → Slot_copper_envelopes 32 (new body)
    with BuildSketch(Plane.XY.offset(SLOT_COPPER_ENVELOPES_START)):
        Polygon((47.548714114, -28.818046189), (53.135530115, -32.366562153), (54.598030115, -29.833437847), (48.731517144, -26.769371245), align=None)
    extrude(amount=SLOT_COPPER_ENVELOPES_32_DEPTH)


solid = Compound([part.part, body_2.part, body_3.part, body_4.part, body_5.part, body_6.part, body_7.part, body_8.part, body_9.part, body_10.part, body_11.part, body_12.part, body_13.part, body_14.part, body_15.part, body_16.part, body_17.part, body_18.part, body_19.part, body_20.part, body_21.part, body_22.part, body_23.part, body_24.part, body_25.part, body_26.part, body_27.part, body_28.part, body_29.part, body_30.part, body_31.part, body_32.part])
